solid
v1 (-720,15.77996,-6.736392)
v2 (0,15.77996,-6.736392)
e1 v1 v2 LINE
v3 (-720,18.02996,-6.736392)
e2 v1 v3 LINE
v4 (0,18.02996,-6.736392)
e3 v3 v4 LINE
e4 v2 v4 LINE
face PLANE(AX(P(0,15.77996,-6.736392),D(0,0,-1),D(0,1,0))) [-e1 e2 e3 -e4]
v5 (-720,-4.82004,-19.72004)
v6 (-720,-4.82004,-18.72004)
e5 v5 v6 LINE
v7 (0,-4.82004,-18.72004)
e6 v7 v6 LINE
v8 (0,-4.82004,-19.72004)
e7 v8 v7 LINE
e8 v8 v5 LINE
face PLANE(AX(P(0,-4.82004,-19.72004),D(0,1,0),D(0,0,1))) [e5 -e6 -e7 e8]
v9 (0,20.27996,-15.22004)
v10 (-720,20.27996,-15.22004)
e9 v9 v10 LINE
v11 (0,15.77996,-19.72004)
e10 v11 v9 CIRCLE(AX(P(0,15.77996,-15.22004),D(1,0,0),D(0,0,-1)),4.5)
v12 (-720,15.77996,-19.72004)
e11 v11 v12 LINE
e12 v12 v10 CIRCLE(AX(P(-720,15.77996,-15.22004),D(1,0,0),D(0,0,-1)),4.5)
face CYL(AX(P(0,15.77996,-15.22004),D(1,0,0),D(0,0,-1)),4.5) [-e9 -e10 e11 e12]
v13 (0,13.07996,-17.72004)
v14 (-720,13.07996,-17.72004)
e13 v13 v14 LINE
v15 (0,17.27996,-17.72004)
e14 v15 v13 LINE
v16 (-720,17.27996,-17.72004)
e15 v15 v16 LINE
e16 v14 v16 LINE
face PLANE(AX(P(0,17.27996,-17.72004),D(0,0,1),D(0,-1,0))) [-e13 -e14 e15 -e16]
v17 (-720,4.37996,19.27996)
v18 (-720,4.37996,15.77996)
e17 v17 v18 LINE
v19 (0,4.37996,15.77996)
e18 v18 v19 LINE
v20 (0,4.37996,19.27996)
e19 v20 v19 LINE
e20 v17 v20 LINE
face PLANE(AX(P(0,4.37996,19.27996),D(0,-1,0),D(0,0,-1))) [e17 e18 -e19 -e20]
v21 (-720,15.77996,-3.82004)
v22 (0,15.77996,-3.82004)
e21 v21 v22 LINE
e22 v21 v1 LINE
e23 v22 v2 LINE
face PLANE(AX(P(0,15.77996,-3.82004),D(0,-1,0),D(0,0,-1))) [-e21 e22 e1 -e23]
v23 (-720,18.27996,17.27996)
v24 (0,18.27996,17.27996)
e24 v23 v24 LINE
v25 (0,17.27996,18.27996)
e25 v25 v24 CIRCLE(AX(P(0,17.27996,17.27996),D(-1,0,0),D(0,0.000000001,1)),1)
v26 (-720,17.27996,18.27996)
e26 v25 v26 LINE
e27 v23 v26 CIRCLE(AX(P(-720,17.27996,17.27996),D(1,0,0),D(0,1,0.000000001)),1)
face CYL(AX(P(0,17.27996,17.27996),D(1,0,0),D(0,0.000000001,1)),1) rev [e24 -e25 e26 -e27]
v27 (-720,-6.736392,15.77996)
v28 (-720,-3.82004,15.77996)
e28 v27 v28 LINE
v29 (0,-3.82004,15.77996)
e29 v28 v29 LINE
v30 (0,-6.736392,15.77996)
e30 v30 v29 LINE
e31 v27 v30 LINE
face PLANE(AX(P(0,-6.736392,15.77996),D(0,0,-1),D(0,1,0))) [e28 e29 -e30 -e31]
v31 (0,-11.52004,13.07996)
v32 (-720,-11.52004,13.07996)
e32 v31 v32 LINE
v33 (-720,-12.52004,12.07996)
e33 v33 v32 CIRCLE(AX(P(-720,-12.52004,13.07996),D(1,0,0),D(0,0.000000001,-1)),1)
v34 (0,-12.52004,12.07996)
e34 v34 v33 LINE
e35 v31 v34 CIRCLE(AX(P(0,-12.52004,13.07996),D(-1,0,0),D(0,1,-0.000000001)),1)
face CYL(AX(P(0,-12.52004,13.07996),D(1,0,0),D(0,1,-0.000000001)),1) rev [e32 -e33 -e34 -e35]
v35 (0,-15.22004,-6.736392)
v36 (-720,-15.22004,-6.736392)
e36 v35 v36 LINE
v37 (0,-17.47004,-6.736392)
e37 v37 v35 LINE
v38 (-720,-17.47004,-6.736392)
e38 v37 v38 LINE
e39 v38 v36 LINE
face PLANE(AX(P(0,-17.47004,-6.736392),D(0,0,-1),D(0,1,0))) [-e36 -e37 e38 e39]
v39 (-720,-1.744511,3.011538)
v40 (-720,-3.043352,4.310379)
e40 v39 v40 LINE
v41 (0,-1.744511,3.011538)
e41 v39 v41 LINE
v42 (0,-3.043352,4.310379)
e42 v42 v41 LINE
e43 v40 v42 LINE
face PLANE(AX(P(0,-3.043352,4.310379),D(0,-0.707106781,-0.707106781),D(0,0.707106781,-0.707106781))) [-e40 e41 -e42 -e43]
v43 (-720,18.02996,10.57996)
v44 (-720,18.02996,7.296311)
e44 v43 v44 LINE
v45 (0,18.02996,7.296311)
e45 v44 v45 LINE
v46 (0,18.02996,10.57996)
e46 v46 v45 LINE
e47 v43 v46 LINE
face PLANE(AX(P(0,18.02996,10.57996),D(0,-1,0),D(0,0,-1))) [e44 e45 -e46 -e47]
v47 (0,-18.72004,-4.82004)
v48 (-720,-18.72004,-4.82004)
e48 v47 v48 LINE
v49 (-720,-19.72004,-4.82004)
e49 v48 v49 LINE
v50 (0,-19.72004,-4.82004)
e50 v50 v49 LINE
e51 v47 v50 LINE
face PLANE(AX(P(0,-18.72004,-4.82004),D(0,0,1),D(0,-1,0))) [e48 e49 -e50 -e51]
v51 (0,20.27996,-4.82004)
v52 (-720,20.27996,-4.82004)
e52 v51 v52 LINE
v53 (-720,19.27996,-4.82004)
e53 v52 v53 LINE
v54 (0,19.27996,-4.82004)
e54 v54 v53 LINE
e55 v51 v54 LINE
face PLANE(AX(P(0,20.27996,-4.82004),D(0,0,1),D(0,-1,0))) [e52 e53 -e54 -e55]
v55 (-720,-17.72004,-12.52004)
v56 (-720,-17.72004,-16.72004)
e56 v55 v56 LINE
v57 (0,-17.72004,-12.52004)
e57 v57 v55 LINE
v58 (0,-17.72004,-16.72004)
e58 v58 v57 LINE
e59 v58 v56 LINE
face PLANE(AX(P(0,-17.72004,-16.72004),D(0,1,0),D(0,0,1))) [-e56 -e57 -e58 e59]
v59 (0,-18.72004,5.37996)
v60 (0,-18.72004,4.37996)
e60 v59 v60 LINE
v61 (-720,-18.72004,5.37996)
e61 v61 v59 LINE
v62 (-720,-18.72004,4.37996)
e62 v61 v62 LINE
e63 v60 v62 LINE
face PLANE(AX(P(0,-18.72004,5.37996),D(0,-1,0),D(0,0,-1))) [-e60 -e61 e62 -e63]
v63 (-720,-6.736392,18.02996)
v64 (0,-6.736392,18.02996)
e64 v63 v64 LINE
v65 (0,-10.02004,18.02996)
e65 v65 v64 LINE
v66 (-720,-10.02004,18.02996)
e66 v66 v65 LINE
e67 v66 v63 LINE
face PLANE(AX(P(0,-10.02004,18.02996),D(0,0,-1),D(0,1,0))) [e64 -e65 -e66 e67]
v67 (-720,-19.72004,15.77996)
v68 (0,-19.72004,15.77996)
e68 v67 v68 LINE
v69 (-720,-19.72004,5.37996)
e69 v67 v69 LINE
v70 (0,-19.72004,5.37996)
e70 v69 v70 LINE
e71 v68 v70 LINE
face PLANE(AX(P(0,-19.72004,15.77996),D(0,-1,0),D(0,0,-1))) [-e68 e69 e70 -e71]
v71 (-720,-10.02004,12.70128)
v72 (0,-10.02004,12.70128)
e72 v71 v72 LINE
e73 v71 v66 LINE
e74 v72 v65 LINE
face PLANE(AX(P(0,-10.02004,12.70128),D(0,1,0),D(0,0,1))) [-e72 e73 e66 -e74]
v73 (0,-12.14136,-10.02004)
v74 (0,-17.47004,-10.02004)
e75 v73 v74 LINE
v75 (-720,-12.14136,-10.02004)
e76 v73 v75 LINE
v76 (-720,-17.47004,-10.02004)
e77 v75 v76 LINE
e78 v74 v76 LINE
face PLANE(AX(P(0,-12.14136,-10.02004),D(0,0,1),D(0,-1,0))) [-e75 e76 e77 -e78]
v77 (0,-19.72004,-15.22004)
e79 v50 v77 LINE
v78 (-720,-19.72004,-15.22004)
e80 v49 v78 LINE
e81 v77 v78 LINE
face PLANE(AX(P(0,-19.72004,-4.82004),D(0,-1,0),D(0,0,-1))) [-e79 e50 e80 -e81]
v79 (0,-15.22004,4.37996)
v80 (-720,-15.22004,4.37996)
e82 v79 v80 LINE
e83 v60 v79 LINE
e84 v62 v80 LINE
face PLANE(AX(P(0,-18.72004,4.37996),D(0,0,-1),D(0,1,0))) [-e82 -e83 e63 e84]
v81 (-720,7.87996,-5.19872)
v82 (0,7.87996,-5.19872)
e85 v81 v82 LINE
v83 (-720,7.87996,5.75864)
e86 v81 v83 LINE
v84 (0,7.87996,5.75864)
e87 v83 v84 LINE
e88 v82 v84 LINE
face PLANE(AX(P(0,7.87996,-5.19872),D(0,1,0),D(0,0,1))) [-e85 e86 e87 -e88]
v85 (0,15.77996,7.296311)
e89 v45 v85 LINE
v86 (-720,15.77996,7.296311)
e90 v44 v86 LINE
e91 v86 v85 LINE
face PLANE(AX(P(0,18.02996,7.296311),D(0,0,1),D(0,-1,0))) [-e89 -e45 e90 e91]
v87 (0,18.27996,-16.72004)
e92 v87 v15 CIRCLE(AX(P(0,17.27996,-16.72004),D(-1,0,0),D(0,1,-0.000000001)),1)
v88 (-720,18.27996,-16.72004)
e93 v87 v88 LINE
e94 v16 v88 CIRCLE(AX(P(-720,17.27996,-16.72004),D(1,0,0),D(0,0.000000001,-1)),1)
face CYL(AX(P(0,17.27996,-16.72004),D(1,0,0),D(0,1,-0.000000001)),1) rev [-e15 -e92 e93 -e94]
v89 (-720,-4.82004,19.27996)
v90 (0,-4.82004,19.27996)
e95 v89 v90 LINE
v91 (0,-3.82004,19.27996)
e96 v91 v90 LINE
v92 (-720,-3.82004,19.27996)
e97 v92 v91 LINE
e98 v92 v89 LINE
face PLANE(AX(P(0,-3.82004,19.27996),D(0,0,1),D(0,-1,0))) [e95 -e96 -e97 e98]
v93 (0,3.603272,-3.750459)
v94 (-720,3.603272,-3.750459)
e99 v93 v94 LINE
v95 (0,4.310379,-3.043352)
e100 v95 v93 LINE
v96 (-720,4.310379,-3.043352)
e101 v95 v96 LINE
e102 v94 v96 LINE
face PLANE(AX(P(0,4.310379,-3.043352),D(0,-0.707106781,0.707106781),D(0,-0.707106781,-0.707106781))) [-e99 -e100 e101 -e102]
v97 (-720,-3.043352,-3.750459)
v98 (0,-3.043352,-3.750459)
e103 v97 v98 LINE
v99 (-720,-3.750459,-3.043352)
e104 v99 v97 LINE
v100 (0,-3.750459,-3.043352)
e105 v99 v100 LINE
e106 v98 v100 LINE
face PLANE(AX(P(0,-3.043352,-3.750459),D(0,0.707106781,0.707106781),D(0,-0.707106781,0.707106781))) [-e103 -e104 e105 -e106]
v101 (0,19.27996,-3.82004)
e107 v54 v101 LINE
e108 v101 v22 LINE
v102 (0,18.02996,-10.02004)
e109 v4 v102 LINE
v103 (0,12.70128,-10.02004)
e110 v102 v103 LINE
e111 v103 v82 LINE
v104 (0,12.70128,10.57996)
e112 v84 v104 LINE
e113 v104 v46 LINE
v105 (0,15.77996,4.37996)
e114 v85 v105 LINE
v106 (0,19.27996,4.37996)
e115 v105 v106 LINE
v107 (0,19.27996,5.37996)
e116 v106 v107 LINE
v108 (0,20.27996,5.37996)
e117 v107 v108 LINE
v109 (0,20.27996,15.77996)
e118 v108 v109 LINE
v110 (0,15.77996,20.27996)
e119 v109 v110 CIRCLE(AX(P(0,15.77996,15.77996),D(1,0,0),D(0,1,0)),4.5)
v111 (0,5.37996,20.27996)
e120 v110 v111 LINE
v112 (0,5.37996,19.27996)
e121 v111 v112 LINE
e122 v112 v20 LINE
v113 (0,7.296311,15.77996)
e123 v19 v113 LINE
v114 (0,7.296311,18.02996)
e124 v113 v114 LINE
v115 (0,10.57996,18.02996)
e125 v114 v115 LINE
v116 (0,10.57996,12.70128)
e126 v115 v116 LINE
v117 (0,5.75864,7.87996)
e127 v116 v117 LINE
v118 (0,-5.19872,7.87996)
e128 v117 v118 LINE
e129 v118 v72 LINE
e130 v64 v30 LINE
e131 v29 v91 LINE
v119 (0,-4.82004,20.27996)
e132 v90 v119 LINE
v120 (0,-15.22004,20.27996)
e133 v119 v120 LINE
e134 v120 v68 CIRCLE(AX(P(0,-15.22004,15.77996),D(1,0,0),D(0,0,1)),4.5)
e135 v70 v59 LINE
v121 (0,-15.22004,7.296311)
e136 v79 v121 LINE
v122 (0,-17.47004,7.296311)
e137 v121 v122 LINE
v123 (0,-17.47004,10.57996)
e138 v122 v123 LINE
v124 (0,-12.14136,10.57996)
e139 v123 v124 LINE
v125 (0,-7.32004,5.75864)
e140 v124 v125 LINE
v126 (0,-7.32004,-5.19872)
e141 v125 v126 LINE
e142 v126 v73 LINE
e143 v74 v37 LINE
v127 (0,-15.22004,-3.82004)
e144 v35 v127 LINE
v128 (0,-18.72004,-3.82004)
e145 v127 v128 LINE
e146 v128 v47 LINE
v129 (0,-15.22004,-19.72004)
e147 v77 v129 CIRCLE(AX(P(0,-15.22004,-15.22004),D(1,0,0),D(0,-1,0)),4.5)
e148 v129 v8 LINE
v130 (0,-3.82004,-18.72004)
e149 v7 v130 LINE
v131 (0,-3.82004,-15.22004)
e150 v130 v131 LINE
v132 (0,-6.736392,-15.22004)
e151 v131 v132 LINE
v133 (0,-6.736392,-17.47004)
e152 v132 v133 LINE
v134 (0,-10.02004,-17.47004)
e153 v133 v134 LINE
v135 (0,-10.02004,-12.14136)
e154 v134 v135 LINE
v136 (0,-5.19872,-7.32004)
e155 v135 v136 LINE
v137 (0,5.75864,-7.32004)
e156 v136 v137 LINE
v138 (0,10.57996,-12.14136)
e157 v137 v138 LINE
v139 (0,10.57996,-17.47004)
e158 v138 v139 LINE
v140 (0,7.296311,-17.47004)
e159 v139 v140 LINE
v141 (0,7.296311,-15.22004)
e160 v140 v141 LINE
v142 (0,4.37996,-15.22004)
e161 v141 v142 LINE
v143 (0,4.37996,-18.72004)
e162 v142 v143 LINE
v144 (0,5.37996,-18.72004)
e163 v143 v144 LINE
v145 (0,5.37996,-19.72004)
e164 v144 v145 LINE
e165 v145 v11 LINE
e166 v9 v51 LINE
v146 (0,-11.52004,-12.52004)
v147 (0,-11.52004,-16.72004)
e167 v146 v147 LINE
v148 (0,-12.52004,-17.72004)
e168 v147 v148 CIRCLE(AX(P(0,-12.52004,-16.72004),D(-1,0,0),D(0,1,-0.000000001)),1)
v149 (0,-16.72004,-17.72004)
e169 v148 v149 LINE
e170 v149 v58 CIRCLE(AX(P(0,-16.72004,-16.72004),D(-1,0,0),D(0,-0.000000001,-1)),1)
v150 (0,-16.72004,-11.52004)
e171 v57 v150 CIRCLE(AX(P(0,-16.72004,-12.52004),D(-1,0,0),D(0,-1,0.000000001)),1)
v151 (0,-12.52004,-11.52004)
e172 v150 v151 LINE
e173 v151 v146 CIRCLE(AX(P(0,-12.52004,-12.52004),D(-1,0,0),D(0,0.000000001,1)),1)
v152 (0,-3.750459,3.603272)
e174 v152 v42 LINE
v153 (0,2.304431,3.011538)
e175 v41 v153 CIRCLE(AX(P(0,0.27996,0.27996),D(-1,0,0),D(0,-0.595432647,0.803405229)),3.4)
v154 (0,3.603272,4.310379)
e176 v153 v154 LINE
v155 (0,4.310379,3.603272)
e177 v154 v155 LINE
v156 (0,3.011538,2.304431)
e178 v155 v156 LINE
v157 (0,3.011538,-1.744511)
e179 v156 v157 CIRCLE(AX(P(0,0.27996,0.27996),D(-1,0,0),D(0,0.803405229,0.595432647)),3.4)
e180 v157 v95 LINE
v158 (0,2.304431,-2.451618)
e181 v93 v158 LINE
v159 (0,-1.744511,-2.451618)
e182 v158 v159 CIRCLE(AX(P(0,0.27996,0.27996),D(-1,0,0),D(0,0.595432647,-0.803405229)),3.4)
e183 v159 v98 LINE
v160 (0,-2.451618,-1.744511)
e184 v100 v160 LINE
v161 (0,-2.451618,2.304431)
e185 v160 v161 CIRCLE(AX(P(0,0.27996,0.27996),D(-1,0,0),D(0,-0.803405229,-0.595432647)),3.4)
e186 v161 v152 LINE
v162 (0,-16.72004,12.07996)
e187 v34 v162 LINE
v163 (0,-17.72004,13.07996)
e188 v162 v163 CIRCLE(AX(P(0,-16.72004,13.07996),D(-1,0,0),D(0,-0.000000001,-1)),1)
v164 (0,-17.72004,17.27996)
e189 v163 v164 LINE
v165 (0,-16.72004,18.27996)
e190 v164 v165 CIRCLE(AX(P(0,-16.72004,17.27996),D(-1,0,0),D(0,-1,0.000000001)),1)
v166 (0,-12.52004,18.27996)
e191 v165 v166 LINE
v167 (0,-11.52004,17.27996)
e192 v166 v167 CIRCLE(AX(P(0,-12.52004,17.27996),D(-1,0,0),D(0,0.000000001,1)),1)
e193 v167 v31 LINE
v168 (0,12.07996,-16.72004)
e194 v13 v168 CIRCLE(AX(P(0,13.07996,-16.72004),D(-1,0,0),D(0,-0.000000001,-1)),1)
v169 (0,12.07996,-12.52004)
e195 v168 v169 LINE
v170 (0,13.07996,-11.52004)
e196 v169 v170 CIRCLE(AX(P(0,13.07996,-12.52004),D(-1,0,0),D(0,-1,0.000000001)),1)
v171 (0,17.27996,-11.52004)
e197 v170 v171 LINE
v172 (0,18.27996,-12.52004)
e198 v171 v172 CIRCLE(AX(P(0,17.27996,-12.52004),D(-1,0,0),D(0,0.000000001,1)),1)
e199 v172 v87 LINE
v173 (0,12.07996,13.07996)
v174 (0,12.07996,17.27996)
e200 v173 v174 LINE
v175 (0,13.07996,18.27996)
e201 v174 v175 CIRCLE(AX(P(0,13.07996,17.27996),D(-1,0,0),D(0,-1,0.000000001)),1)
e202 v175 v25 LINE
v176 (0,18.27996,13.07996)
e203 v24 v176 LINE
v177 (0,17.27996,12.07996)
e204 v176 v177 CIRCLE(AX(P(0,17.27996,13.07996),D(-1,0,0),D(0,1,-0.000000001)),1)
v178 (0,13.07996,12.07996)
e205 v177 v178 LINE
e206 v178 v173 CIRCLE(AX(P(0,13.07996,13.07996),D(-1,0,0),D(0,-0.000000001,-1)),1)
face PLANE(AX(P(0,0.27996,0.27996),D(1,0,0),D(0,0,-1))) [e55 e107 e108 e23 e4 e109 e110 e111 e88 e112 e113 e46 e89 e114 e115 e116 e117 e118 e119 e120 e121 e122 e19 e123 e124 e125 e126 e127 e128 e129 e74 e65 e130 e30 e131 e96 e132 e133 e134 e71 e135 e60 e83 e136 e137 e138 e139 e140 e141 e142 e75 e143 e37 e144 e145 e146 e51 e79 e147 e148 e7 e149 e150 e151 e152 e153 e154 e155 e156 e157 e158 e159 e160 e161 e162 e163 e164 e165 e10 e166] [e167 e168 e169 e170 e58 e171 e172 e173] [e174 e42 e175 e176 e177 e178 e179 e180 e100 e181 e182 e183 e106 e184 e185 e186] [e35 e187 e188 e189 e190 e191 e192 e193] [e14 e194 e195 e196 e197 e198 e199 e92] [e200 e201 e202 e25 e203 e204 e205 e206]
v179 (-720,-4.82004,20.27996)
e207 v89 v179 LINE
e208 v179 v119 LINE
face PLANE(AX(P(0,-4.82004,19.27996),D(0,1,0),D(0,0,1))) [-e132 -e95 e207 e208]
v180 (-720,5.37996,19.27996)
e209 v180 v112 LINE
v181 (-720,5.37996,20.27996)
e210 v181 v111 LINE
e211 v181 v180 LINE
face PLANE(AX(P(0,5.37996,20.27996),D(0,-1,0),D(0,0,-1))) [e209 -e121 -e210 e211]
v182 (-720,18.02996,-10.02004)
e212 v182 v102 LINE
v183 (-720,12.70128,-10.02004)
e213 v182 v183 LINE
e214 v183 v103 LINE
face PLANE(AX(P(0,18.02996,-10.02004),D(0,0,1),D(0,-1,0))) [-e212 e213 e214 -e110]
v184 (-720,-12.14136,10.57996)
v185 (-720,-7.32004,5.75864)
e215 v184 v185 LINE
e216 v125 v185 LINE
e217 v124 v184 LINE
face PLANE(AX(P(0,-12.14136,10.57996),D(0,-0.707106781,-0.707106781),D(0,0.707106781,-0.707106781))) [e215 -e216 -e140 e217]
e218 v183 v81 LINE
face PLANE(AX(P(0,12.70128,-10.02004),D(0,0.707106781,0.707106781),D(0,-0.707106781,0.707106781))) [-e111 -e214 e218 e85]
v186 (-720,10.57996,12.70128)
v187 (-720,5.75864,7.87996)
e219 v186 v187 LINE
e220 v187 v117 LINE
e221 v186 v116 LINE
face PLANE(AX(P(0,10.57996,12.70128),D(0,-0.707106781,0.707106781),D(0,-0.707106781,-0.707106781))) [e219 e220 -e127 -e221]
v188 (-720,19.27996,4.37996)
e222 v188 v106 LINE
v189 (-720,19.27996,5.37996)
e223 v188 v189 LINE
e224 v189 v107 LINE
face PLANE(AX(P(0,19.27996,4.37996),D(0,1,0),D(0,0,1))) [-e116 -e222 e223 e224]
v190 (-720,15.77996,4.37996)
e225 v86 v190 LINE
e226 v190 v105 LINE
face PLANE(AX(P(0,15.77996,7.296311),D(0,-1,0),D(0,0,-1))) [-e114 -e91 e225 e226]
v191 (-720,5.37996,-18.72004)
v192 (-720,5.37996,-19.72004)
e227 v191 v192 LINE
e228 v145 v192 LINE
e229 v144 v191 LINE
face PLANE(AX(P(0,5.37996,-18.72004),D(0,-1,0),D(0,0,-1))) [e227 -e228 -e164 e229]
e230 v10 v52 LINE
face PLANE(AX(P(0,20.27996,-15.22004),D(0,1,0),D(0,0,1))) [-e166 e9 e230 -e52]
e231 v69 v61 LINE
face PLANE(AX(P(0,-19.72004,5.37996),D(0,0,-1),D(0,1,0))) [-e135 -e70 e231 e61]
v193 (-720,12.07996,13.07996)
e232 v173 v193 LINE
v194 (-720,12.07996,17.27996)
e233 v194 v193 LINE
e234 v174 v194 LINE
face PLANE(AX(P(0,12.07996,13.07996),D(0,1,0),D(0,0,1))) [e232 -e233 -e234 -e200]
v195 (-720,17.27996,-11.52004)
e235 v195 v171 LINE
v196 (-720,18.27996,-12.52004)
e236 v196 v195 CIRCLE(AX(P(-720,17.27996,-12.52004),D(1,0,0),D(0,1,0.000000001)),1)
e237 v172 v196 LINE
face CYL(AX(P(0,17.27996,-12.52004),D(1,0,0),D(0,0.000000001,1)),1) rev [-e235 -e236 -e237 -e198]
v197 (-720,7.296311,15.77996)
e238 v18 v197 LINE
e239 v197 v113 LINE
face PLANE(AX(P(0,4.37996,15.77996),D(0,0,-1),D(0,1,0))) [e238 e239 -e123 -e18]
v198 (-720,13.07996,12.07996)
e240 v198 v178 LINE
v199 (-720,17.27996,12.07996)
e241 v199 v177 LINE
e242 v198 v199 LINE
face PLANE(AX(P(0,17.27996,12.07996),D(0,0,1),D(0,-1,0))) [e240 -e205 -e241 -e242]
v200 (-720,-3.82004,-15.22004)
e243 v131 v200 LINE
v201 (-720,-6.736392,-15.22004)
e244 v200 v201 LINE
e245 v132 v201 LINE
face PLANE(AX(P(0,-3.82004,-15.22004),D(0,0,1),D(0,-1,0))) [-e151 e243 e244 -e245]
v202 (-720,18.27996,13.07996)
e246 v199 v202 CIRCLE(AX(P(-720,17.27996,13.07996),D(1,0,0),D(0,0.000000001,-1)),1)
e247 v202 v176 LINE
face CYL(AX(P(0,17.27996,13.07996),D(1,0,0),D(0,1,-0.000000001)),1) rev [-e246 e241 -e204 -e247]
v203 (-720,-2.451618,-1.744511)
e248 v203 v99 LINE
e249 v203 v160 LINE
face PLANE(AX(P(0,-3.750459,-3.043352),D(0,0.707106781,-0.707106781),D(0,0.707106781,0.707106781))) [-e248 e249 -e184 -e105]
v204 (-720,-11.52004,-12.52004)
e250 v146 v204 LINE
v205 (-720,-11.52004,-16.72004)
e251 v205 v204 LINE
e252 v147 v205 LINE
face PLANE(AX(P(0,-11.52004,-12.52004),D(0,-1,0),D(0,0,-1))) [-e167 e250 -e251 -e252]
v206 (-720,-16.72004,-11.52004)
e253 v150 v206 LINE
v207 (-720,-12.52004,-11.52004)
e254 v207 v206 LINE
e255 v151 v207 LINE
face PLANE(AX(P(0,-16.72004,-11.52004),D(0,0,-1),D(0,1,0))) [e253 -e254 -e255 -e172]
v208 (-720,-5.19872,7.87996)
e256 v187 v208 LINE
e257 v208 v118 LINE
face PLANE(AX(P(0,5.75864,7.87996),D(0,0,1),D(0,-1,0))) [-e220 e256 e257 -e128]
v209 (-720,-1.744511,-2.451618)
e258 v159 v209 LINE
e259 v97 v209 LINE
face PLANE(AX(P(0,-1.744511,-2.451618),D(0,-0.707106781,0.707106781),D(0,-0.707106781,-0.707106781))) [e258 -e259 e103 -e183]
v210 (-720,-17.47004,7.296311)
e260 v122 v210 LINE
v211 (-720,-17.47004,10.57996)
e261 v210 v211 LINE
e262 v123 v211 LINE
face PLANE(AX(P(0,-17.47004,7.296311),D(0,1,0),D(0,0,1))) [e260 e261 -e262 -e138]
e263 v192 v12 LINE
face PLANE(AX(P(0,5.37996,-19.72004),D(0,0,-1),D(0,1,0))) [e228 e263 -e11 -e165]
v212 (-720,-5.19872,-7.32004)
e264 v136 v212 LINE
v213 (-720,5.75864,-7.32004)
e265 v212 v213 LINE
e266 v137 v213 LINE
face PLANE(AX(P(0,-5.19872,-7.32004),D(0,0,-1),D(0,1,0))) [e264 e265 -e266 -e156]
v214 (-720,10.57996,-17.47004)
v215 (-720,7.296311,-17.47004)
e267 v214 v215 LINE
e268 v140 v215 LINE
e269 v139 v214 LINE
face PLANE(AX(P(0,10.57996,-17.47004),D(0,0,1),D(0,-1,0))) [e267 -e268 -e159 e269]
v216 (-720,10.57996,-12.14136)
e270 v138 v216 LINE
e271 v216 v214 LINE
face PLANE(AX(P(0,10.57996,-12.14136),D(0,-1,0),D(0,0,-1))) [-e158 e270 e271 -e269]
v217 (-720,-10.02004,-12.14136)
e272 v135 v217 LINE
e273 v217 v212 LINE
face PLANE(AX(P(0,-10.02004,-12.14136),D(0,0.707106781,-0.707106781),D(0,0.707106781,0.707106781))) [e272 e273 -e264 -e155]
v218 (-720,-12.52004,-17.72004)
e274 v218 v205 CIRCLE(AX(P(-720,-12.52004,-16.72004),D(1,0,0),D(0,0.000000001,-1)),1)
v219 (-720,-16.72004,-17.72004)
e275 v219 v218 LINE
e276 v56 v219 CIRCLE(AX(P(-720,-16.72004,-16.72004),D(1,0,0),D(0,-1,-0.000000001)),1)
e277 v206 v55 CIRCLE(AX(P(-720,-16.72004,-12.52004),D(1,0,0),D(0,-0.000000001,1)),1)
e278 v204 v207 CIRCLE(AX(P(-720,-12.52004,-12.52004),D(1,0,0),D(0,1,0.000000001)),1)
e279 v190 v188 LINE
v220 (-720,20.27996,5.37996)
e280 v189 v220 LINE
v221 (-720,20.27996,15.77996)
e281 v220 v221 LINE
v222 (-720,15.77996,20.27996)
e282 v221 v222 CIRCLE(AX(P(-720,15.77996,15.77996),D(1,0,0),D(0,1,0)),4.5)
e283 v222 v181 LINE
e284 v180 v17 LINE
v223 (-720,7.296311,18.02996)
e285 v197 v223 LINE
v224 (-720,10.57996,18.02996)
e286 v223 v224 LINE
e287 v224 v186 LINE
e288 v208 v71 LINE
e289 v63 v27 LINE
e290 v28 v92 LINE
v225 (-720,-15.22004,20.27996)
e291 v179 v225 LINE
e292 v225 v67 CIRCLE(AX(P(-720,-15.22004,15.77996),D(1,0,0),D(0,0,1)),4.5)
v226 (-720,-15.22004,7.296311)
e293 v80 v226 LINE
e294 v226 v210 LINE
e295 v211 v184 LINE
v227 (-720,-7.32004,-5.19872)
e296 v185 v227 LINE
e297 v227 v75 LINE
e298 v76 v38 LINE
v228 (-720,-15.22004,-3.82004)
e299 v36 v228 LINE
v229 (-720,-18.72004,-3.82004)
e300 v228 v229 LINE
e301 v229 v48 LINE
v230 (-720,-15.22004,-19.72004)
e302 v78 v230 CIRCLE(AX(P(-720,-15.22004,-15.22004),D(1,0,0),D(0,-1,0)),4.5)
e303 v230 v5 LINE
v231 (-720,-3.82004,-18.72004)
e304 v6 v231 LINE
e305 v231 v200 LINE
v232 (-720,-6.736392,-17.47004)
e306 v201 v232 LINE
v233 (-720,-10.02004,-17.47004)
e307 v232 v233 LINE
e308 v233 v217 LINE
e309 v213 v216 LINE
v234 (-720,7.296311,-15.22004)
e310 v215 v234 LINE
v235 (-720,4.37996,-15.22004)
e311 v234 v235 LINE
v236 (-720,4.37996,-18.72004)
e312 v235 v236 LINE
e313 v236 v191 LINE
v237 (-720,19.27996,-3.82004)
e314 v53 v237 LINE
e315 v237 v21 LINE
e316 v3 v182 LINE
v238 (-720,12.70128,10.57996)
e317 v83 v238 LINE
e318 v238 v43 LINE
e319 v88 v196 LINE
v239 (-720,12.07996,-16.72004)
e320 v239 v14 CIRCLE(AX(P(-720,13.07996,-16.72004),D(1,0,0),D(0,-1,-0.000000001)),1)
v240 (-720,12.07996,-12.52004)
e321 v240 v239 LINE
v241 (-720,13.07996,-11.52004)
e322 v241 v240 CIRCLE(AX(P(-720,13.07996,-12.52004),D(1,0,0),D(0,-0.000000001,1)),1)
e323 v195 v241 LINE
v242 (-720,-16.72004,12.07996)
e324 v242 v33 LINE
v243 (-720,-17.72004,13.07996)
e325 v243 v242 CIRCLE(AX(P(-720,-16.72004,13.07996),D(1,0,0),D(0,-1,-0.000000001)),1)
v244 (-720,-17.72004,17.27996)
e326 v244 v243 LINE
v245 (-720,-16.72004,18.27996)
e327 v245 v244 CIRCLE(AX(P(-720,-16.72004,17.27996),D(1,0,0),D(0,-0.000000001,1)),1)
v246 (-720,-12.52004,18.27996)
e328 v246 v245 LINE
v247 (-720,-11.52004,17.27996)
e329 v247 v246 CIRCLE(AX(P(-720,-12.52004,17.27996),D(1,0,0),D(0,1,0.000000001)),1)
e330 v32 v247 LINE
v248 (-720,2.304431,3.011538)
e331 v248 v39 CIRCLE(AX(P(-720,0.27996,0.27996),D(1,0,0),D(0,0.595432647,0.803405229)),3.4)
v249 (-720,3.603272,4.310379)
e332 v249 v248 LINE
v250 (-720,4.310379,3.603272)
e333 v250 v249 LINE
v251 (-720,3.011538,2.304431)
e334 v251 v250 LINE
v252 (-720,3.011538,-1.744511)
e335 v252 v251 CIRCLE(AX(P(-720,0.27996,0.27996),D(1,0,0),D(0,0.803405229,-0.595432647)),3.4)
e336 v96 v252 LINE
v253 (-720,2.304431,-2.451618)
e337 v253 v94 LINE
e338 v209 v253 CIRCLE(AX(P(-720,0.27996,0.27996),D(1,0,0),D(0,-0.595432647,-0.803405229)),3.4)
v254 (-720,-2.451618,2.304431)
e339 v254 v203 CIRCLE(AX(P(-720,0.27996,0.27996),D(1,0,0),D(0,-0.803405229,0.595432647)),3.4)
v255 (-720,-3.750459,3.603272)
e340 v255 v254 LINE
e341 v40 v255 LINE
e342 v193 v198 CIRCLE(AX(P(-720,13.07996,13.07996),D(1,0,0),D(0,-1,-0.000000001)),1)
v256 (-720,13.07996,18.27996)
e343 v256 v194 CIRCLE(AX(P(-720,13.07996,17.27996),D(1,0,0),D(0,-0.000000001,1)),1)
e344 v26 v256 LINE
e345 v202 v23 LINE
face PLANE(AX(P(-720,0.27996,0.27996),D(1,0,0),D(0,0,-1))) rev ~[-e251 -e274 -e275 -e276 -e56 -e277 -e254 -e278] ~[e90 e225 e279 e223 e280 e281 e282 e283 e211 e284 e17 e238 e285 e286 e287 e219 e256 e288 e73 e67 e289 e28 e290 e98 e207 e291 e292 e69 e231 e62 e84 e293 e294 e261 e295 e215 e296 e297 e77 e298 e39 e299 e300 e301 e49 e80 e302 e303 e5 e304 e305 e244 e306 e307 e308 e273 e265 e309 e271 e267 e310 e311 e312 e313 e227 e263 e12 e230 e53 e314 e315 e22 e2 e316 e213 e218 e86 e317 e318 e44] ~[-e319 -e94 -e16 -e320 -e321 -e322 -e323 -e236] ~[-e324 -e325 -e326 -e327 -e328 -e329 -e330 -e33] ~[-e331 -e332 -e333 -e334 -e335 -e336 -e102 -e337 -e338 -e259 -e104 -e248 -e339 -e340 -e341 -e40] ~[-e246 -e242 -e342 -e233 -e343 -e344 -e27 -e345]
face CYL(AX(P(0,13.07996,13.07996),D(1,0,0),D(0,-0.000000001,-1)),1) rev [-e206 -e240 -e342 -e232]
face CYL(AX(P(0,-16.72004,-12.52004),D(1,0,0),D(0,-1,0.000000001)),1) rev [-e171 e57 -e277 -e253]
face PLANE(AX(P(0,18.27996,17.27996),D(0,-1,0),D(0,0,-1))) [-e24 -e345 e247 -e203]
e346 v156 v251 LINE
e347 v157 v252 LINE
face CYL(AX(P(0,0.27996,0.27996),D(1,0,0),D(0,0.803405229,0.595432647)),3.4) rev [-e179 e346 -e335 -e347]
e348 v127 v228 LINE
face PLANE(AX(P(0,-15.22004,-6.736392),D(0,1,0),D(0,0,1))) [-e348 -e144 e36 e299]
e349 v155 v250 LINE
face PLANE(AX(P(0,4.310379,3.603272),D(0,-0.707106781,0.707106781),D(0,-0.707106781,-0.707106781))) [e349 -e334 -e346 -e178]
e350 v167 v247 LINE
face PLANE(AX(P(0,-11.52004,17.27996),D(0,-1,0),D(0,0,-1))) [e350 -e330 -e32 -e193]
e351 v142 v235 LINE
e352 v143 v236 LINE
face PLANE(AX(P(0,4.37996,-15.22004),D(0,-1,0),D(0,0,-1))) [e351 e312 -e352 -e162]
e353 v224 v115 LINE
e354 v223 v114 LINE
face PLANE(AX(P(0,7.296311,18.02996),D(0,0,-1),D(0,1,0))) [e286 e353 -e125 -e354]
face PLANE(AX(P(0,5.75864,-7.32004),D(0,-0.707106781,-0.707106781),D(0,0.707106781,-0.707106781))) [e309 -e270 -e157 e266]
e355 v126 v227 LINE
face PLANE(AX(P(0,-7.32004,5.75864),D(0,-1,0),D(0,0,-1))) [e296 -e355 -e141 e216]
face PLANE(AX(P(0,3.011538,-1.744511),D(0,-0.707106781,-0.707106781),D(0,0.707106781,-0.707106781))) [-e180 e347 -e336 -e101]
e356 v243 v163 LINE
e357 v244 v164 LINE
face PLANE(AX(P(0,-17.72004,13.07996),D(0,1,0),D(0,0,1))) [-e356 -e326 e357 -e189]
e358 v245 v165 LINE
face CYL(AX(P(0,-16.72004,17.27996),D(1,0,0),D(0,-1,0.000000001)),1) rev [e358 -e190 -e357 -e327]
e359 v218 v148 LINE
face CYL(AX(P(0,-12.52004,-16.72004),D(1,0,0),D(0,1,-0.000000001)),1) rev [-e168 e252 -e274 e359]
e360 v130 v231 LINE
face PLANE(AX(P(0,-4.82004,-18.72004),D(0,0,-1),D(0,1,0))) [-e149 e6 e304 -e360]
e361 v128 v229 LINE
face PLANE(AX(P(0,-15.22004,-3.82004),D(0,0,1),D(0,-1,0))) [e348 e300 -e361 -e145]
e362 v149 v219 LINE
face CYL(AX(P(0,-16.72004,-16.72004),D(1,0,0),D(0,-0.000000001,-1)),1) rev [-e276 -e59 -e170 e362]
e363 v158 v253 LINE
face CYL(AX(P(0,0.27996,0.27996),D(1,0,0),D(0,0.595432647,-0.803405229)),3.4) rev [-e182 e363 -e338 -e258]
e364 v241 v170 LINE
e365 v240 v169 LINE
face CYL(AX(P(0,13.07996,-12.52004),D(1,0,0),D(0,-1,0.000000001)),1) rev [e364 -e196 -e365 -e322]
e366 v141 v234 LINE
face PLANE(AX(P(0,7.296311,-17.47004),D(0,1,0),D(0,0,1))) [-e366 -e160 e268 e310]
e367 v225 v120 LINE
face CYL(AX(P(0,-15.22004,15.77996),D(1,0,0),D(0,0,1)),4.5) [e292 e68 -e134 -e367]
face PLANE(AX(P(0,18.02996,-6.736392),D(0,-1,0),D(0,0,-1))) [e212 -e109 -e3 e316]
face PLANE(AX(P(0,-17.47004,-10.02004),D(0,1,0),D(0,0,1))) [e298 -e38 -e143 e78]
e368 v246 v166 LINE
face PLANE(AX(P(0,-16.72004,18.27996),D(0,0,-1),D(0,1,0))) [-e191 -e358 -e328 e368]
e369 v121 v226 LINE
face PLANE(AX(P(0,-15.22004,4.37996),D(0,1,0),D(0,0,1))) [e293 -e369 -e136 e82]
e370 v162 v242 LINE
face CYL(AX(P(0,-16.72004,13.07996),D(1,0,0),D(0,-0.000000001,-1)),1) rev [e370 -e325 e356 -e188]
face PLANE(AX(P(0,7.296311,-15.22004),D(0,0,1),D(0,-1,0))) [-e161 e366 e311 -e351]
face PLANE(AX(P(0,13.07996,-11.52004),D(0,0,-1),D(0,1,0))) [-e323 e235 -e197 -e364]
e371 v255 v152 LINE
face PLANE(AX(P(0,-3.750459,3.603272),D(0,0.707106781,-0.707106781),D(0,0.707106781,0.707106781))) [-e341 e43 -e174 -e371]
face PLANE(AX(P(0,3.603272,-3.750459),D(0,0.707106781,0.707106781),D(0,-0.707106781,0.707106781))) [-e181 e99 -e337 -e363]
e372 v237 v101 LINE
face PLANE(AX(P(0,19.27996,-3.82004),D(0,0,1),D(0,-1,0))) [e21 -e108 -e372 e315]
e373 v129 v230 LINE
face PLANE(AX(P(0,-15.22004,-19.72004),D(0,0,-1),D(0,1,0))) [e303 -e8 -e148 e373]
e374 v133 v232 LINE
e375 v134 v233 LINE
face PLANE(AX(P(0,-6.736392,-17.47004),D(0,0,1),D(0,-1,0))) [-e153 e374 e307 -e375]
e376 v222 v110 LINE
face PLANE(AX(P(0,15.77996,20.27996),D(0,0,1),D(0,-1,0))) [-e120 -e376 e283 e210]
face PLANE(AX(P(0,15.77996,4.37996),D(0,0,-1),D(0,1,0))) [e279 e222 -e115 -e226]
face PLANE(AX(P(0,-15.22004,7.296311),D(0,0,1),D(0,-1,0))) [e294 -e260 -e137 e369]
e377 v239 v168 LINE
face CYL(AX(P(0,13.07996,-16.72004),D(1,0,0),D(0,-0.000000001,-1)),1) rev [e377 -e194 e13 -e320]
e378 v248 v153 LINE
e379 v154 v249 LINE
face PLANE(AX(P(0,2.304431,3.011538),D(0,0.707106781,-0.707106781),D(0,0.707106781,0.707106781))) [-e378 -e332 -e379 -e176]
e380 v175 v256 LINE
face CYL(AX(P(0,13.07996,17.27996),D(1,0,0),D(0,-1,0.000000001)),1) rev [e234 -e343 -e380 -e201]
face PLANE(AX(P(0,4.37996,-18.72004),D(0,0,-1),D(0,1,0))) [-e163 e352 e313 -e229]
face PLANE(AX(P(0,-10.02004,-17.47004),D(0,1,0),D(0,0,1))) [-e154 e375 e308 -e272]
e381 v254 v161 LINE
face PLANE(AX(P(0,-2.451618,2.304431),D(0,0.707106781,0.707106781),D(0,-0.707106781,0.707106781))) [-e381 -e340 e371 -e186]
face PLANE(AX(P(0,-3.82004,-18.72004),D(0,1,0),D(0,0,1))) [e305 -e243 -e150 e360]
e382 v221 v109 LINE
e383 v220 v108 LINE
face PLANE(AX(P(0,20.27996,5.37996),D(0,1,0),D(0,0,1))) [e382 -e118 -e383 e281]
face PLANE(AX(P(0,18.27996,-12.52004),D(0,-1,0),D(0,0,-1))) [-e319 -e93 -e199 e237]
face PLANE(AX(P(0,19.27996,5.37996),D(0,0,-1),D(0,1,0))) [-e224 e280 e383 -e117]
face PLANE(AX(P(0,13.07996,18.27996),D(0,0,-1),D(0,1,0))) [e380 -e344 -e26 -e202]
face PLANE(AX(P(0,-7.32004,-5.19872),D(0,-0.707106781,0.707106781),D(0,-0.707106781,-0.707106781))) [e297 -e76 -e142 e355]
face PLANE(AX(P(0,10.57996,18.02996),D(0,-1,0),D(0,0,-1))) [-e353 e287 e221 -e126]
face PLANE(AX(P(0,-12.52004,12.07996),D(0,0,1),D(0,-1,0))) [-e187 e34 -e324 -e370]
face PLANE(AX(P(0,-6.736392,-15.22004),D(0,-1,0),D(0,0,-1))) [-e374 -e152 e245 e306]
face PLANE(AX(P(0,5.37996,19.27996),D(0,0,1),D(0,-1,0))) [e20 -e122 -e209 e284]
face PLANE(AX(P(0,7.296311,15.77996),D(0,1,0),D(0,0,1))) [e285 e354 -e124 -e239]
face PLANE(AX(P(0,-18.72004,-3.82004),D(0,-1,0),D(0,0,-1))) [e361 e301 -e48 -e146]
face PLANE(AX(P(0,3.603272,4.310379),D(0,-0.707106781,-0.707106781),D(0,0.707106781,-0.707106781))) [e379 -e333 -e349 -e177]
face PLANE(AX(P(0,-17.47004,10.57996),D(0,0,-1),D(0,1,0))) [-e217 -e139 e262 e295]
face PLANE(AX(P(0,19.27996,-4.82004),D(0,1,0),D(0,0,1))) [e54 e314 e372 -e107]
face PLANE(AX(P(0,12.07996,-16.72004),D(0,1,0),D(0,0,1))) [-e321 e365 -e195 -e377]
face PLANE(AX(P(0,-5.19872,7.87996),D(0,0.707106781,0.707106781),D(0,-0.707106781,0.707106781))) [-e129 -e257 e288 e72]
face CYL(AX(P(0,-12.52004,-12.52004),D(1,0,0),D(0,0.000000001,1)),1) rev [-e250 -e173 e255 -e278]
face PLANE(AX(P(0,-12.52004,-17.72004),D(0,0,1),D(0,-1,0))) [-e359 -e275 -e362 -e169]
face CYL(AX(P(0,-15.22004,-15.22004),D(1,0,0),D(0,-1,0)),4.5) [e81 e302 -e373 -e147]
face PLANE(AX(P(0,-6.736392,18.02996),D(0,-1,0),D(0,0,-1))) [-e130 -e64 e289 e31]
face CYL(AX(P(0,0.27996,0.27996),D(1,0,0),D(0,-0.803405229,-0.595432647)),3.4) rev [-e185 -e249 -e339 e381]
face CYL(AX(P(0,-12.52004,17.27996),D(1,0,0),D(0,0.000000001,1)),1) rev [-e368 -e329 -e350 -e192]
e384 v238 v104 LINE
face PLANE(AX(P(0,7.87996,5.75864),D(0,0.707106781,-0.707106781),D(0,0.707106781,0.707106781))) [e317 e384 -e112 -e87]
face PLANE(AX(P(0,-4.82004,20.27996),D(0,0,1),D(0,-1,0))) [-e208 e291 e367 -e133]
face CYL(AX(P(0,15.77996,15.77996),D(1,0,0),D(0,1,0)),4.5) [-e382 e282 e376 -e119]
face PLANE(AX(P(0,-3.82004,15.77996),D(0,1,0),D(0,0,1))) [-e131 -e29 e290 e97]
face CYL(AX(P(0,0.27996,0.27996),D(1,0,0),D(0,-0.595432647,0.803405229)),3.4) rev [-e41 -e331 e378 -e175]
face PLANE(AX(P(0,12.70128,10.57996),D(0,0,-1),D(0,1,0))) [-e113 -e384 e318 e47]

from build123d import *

# Parameters (mm, degrees)
EXTRUDE_1_DEPTH = 50
EXTRUDE_2_DEPTH = 720


with BuildPart() as part:
    # 草图1 → 凸台-拉伸1 (new body)
    with BuildSketch(Plane(origin=(0, 0, 0), x_dir=(0, 0, -1), z_dir=(1, 0, 0))):
        with BuildLine():
            Line((4.82004008, 19.27995992), (3.82004008, 19.27995992))
            Line((3.82004008, 19.27995992), (3.82004008, 15.77995992))
            Line((3.82004008, 15.77995992), (6.73639159, 15.77995992))
            Line((6.73639159, 15.77995992), (6.73639159, 18.02995992))
            Line((6.73639159, 18.02995992), (10.02004008, 18.02995992))
            Line((10.02004008, 18.02995992), (10.02004008, 12.70128026))
            Line((10.02004008, 12.70128026), (5.19871974, 7.87995992))
            Line((5.19871974, 7.87995992), (-5.75863958, 7.87995992))
            Line((-5.75863958, 7.87995992), (-10.57995992, 12.70128026))
            Line((-10.57995992, 12.70128026), (-10.57995992, 18.02995992))
            Line((-10.57995992, 18.02995992), (-7.29631143, 18.02995992))
            Line((-7.29631143, 18.02995992), (-7.29631143, 15.77995992))
            Line((-7.29631143, 15.77995992), (-4.37995992, 15.77995992))
            Line((-4.37995992, 15.77995992), (-4.37995992, 19.27995992))
            Line((-4.37995992, 19.27995992), (-5.37995992, 19.27995992))
            Line((-5.37995992, 19.27995992), (-5.37995992, 20.27995992))
            Line((-5.37995992, 20.27995992), (-15.77995992, 20.27995992))
            ThreePointArc((-15.77995992, 20.27995992), (-18.961940435, 18.961940435), (-20.27995992, 15.77995992))
            Line((-20.27995992, 15.77995992), (-20.27995992, 5.37995992))
            Line((-20.27995992, 5.37995992), (-19.27995992, 5.37995992))
            Line((-19.27995992, 5.37995992), (-19.27995992, 4.37995992))
            Line((-19.27995992, 4.37995992), (-15.77995992, 4.37995992))
            Line((-15.77995992, 4.37995992), (-15.77995992, 7.29631143))
            Line((-15.77995992, 7.29631143), (-18.02995992, 7.29631143))
            Line((-18.02995992, 7.29631143), (-18.02995992, 10.57995992))
            Line((-18.02995992, 10.57995992), (-12.70128026, 10.57995992))
            Line((-12.70128026, 10.57995992), (-7.87995992, 5.75863958))
            Line((-7.87995992, 5.75863958), (-7.87995992, -5.19871974))
            Line((-7.87995992, -5.19871974), (-12.70128026, -10.02004008))
            Line((-12.70128026, -10.02004008), (-18.02995992, -10.02004008))
            Line((-18.02995992, -10.02004008), (-18.02995992, -6.73639159))
            Line((-18.02995992, -6.73639159), (-15.77995992, -6.73639159))
            Line((-15.77995992, -6.73639159), (-15.77995992, -3.82004008))
            Line((-15.77995992, -3.82004008), (-19.27995992, -3.82004008))
            Line((-19.27995992, -3.82004008), (-19.27995992, -4.82004008))
            Line((-19.27995992, -4.82004008), (-20.27995992, -4.82004008))
            Line((-20.27995992, -4.82004008), (-20.27995992, -15.22004008))
            ThreePointArc((-20.27995992, -15.22004008), (-18.961940435, -18.402020595), (-15.77995992, -19.72004008))
            Line((-15.77995992, -19.72004008), (-5.37995992, -19.72004008))
            Line((-5.37995992, -19.72004008), (-5.37995992, -18.72004008))
            Line((-5.37995992, -18.72004008), (-4.37995992, -18.72004008))
            Line((-4.37995992, -18.72004008), (-4.37995992, -15.22004008))
            Line((-4.37995992, -15.22004008), (-7.29631143, -15.22004008))
            Line((-7.29631143, -15.22004008), (-7.29631143, -17.47004008))
            Line((-7.29631143, -17.47004008), (-10.57995992, -17.47004008))
            Line((-10.57995992, -17.47004008), (-10.57995992, -12.14136042))
            Line((-10.57995992, -12.14136042), (-5.75863958, -7.32004008))
            Line((-5.75863958, -7.32004008), (5.19871974, -7.32004008))
            Line((5.19871974, -7.32004008), (10.02004008, -12.14136042))
            Line((10.02004008, -12.14136042), (10.02004008, -17.47004008))
            Line((10.02004008, -17.47004008), (6.73639159, -17.47004008))
            Line((6.73639159, -17.47004008), (6.73639159, -15.22004008))
            Line((6.73639159, -15.22004008), (3.82004008, -15.22004008))
            Line((3.82004008, -15.22004008), (3.82004008, -18.72004008))
            Line((3.82004008, -18.72004008), (4.82004008, -18.72004008))
            Line((4.82004008, -18.72004008), (4.82004008, -19.72004008))
            Line((4.82004008, -19.72004008), (15.22004008, -19.72004008))
            ThreePointArc((15.22004008, -19.72004008), (18.402020595, -18.402020595), (19.72004008, -15.22004008))
            Line((19.72004008, -15.22004008), (19.72004008, -4.82004008))
            Line((19.72004008, -4.82004008), (18.72004008, -4.82004008))
            Line((18.72004008, -4.82004008), (18.72004008, -3.82004008))
            Line((18.72004008, -3.82004008), (15.22004008, -3.82004008))
            Line((15.22004008, -3.82004008), (15.22004008, -6.73639159))
            Line((15.22004008, -6.73639159), (17.47004008, -6.73639159))
            Line((17.47004008, -6.73639159), (17.47004008, -10.02004008))
            Line((17.47004008, -10.02004008), (12.14136042, -10.02004008))
            Line((12.14136042, -10.02004008), (7.32004008, -5.19871974))
            Line((7.32004008, -5.19871974), (7.32004008, 5.75863958))
            Line((7.32004008, 5.75863958), (12.14136042, 10.57995992))
            Line((12.14136042, 10.57995992), (17.47004008, 10.57995992))
            Line((17.47004008, 10.57995992), (17.47004008, 7.29631143))
            Line((17.47004008, 7.29631143), (15.22004008, 7.29631143))
            Line((15.22004008, 7.29631143), (15.22004008, 4.37995992))
            Line((15.22004008, 4.37995992), (18.72004008, 4.37995992))
            Line((18.72004008, 4.37995992), (18.72004008, 5.37995992))
            Line((18.72004008, 5.37995992), (19.72004008, 5.37995992))
            Line((19.72004008, 5.37995992), (19.72004008, 15.77995992))
            ThreePointArc((19.72004008, 15.77995992), (18.402020595, 18.961940435), (15.22004008, 20.27995992))
            Line((15.22004008, 20.27995992), (4.82004008, 20.27995992))
            Line((4.82004008, 20.27995992), (4.82004008, 19.27995992))
        make_face()
        with BuildLine():
            Line((-13.07995992, -17.72004008), (-17.27995992, -17.72004008))
            ThreePointArc((-17.27995992, -17.72004008), (-17.987066701, -17.427146861), (-18.27995992, -16.72004008))
            Line((-18.27995992, -16.72004008), (-18.27995992, -12.52004008))
            ThreePointArc((-18.27995992, -12.52004008), (-17.987066701, -11.812933299), (-17.27995992, -11.52004008))
            Line((-17.27995992, -11.52004008), (-13.07995992, -11.52004008))
            ThreePointArc((-13.07995992, -11.52004008), (-12.372853139, -11.812933299), (-12.07995992, -12.52004008))
            Line((-12.07995992, -12.52004008), (-12.07995992, -16.72004008))
            ThreePointArc((-12.07995992, -16.72004008), (-12.372853139, -17.427146861), (-13.07995992, -17.72004008))
        make_face(mode=Mode.SUBTRACT)
        with BuildLine():
            Line((-17.27995992, 18.27995992), (-13.07995992, 18.27995992))
            ThreePointArc((-13.07995992, 18.27995992), (-12.372853139, 17.987066701), (-12.07995992, 17.27995992))
            Line((-12.07995992, 17.27995992), (-12.07995992, 13.07995992))
            ThreePointArc((-12.07995992, 13.07995992), (-12.372853139, 12.372853139), (-13.07995992, 12.07995992))
            Line((-13.07995992, 12.07995992), (-17.27995992, 12.07995992))
            ThreePointArc((-17.27995992, 12.07995992), (-17.987066701, 12.372853139), (-18.27995992, 13.07995992))
            Line((-18.27995992, 13.07995992), (-18.27995992, 17.27995992))
            ThreePointArc((-18.27995992, 17.27995992), (-17.987066701, 17.987066701), (-17.27995992, 18.27995992))
        make_face(mode=Mode.SUBTRACT)
        with BuildLine():
            Line((16.72004008, 12.07995992), (12.52004008, 12.07995992))
            ThreePointArc((12.52004008, 12.07995992), (11.812933299, 12.372853139), (11.52004008, 13.07995992))
            Line((11.52004008, 13.07995992), (11.52004008, 17.27995992))
            ThreePointArc((11.52004008, 17.27995992), (11.812933299, 17.987066701), (12.52004008, 18.27995992))
            Line((12.52004008, 18.27995992), (16.72004008, 18.27995992))
            ThreePointArc((16.72004008, 18.27995992), (17.427146861, 17.987066701), (17.72004008, 17.27995992))
            Line((17.72004008, 17.27995992), (17.72004008, 13.07995992))
            ThreePointArc((17.72004008, 13.07995992), (17.427146861, 12.372853139), (16.72004008, 12.07995992))
        make_face(mode=Mode.SUBTRACT)
        with BuildLine():
            Line((3.75045895, -3.04335217), (3.04335217, -3.75045895))
            Line((3.04335217, -3.75045895), (1.74451108, -2.45161786))
            ThreePointArc((1.74451108, -2.45161786), (-0.27995992, -3.12004008), (-2.30443092, -2.45161786))
            Line((-2.30443092, -2.45161786), (-3.60327201, -3.75045895))
            Line((-3.60327201, -3.75045895), (-4.31037879, -3.04335217))
            Line((-4.31037879, -3.04335217), (-3.0115377, -1.74451108))
            ThreePointArc((-3.0115377, -1.74451108), (-3.67995992, 0.27995992), (-3.0115377, 2.30443092))
            Line((-3.0115377, 2.30443092), (-4.31037879, 3.60327201))
            Line((-4.31037879, 3.60327201), (-3.60327201, 4.31037879))
            Line((-3.60327201, 4.31037879), (-2.30443092, 3.0115377))
            ThreePointArc((-2.30443092, 3.0115377), (-0.27995992, 3.67995992), (1.74451108, 3.0115377))
            Line((1.74451108, 3.0115377), (3.04335217, 4.31037879))
            Line((3.04335217, 4.31037879), (3.75045895, 3.60327201))
            Line((3.75045895, 3.60327201), (2.45161786, 2.30443092))
            ThreePointArc((2.45161786, 2.30443092), (3.12004008, 0.27995992), (2.45161786, -1.74451108))
            Line((2.45161786, -1.74451108), (3.75045895, -3.04335217))
        make_face(mode=Mode.SUBTRACT)
        with BuildLine():
            Line((17.72004008, -12.52004008), (17.72004008, -16.72004008))
            ThreePointArc((17.72004008, -16.72004008), (17.427146861, -17.427146861), (16.72004008, -17.72004008))
            Line((16.72004008, -17.72004008), (12.52004008, -17.72004008))
            ThreePointArc((12.52004008, -17.72004008), (11.812933299, -17.427146861), (11.52004008, -16.72004008))
            Line((11.52004008, -16.72004008), (11.52004008, -12.52004008))
            ThreePointArc((11.52004008, -12.52004008), (11.812933299, -11.812933299), (12.52004008, -11.52004008))
            Line((12.52004008, -11.52004008), (16.72004008, -11.52004008))
            ThreePointArc((16.72004008, -11.52004008), (17.427146861, -11.812933299), (17.72004008, -12.52004008))
        make_face(mode=Mode.SUBTRACT)
    extrude(amount=-EXTRUDE_1_DEPTH)

    # 草图2 → 凸台-拉伸2 (add)
    with BuildSketch(Plane(origin=(0, 0, 0), x_dir=(0, 0, -1), z_dir=(1, 0, 0))):
        with BuildLine():
            Line((19.72004008, 5.37995992), (19.72004008, 15.77995992))
            ThreePointArc((19.72004008, 15.77995992), (18.402020595, 18.961940435), (15.22004008, 20.27995992))
            Line((15.22004008, 20.27995992), (4.82004008, 20.27995992))
            Line((4.82004008, 20.27995992), (4.82004008, 19.27995992))
            Line((4.82004008, 19.27995992), (3.82004008, 19.27995992))
            Line((3.82004008, 19.27995992), (3.82004008, 15.77995992))
            Line((3.82004008, 15.77995992), (6.73639159, 15.77995992))
            Line((6.73639159, 15.77995992), (6.73639159, 18.02995992))
            Line((6.73639159, 18.02995992), (10.02004008, 18.02995992))
            Line((10.02004008, 18.02995992), (10.02004008, 12.70128026))
            Line((10.02004008, 12.70128026), (5.19871974, 7.87995992))
            Line((5.19871974, 7.87995992), (-5.75863958, 7.87995992))
            Line((-5.75863958, 7.87995992), (-10.57995992, 12.70128026))
            Line((-10.57995992, 12.70128026), (-10.57995992, 18.02995992))
            Line((-10.57995992, 18.02995992), (-7.29631143, 18.02995992))
            Line((-7.29631143, 18.02995992), (-7.29631143, 15.77995992))
            Line((-7.29631143, 15.77995992), (-4.37995992, 15.77995992))
            Line((-4.37995992, 15.77995992), (-4.37995992, 19.27995992))
            Line((-4.37995992, 19.27995992), (-5.37995992, 19.27995992))
            Line((-5.37995992, 19.27995992), (-5.37995992, 20.27995992))
            Line((-5.37995992, 20.27995992), (-15.77995992, 20.27995992))
            ThreePointArc((-15.77995992, 20.27995992), (-18.961940435, 18.961940435), (-20.27995992, 15.77995992))
            Line((-20.27995992, 15.77995992), (-20.27995992, 5.37995992))
            Line((-20.27995992, 5.37995992), (-19.27995992, 5.37995992))
            Line((-19.27995992, 5.37995992), (-19.27995992, 4.37995992))
            Line((-19.27995992, 4.37995992), (-15.77995992, 4.37995992))
            Line((-15.77995992, 4.37995992), (-15.77995992, 7.29631143))
            Line((-15.77995992, 7.29631143), (-18.02995992, 7.29631143))
            Line((-18.02995992, 7.29631143), (-18.02995992, 10.57995992))
            Line((-18.02995992, 10.57995992), (-12.70128026, 10.57995992))
            Line((-12.70128026, 10.57995992), (-7.87995992, 5.75863958))
            Line((-7.87995992, 5.75863958), (-7.87995992, -5.19871974))
            Line((-7.87995992, -5.19871974), (-12.70128026, -10.02004008))
            Line((-12.70128026, -10.02004008), (-18.02995992, -10.02004008))
            Line((-18.02995992, -10.02004008), (-18.02995992, -6.73639159))
            Line((-18.02995992, -6.73639159), (-15.77995992, -6.73639159))
            Line((-15.77995992, -6.73639159), (-15.77995992, -3.82004008))
            Line((-15.77995992, -3.82004008), (-19.27995992, -3.82004008))
            Line((-19.27995992, -3.82004008), (-19.27995992, -4.82004008))
            Line((-19.27995992, -4.82004008), (-20.27995992, -4.82004008))
            Line((-20.27995992, -4.82004008), (-20.27995992, -15.22004008))
            ThreePointArc((-20.27995992, -15.22004008), (-18.961940435, -18.402020595), (-15.77995992, -19.72004008))
            Line((-15.77995992, -19.72004008), (-5.37995992, -19.72004008))
            Line((-5.37995992, -19.72004008), (-5.37995992, -18.72004008))
            Line((-5.37995992, -18.72004008), (-4.37995992, -18.72004008))
            Line((-4.37995992, -18.72004008), (-4.37995992, -15.22004008))
            Line((-4.37995992, -15.22004008), (-7.29631143, -15.22004008))
            Line((-7.29631143, -15.22004008), (-7.29631143, -17.47004008))
            Line((-7.29631143, -17.47004008), (-10.57995992, -17.47004008))
            Line((-10.57995992, -17.47004008), (-10.57995992, -12.14136042))
            Line((-10.57995992, -12.14136042), (-5.75863958, -7.32004008))
            Line((-5.75863958, -7.32004008), (5.19871974, -7.32004008))
            Line((5.19871974, -7.32004008), (10.02004008, -12.14136042))
            Line((10.02004008, -12.14136042), (10.02004008, -17.47004008))
            Line((10.02004008, -17.47004008), (6.73639159, -17.47004008))
            Line((6.73639159, -17.47004008), (6.73639159, -15.22004008))
            Line((6.73639159, -15.22004008), (3.82004008, -15.22004008))
            Line((3.82004008, -15.22004008), (3.82004008, -18.72004008))
            Line((3.82004008, -18.72004008), (4.82004008, -18.72004008))
            Line((4.82004008, -18.72004008), (4.82004008, -19.72004008))
            Line((4.82004008, -19.72004008), (15.22004008, -19.72004008))
            ThreePointArc((15.22004008, -19.72004008), (18.402020595, -18.402020595), (19.72004008, -15.22004008))
            Line((19.72004008, -15.22004008), (19.72004008, -4.82004008))
            Line((19.72004008, -4.82004008), (18.72004008, -4.82004008))
            Line((18.72004008, -4.82004008), (18.72004008, -3.82004008))
            Line((18.72004008, -3.82004008), (15.22004008, -3.82004008))
            Line((15.22004008, -3.82004008), (15.22004008, -6.73639159))
            Line((15.22004008, -6.73639159), (17.47004008, -6.73639159))
            Line((17.47004008, -6.73639159), (17.47004008, -10.02004008))
            Line((17.47004008, -10.02004008), (12.14136042, -10.02004008))
            Line((12.14136042, -10.02004008), (7.32004008, -5.19871974))
            Line((7.32004008, -5.19871974), (7.32004008, 5.75863958))
            Line((7.32004008, 5.75863958), (12.14136042, 10.57995992))
            Line((12.14136042, 10.57995992), (17.47004008, 10.57995992))
            Line((17.47004008, 10.57995992), (17.47004008, 7.29631143))
            Line((17.47004008, 7.29631143), (15.22004008, 7.29631143))
            Line((15.22004008, 7.29631143), (15.22004008, 4.37995992))
            Line((15.22004008, 4.37995992), (18.72004008, 4.37995992))
            Line((18.72004008, 4.37995992), (18.72004008, 5.37995992))
            Line((18.72004008, 5.37995992), (19.72004008, 5.37995992))
        make_face()
        with BuildLine():
            Line((-17.27995992, -17.72004008), (-13.07995992, -17.72004008))
            ThreePointArc((-13.07995992, -17.72004008), (-12.372853139, -17.427146861), (-12.07995992, -16.72004008))
            Line((-12.07995992, -16.72004008), (-12.07995992, -12.52004008))
            ThreePointArc((-12.07995992, -12.52004008), (-12.372853139, -11.812933299), (-13.07995992, -11.52004008))
            Line((-13.07995992, -11.52004008), (-17.27995992, -11.52004008))
            ThreePointArc((-17.27995992, -11.52004008), (-17.987066701, -11.812933299), (-18.27995992, -12.52004008))
            Line((-18.27995992, -12.52004008), (-18.27995992, -16.72004008))
            ThreePointArc((-18.27995992, -16.72004008), (-17.987066701, -17.427146861), (-17.27995992, -17.72004008))
        make_face(mode=Mode.SUBTRACT)
        with BuildLine():
            Line((-13.07995992, 18.27995992), (-17.27995992, 18.27995992))
            ThreePointArc((-17.27995992, 18.27995992), (-17.987066701, 17.987066701), (-18.27995992, 17.27995992))
            Line((-18.27995992, 17.27995992), (-18.27995992, 13.07995992))
            ThreePointArc((-18.27995992, 13.07995992), (-17.987066701, 12.372853139), (-17.27995992, 12.07995992))
            Line((-17.27995992, 12.07995992), (-13.07995992, 12.07995992))
            ThreePointArc((-13.07995992, 12.07995992), (-12.372853139, 12.372853139), (-12.07995992, 13.07995992))
            Line((-12.07995992, 13.07995992), (-12.07995992, 17.27995992))
            ThreePointArc((-12.07995992, 17.27995992), (-12.372853139, 17.987066701), (-13.07995992, 18.27995992))
        make_face(mode=Mode.SUBTRACT)
        with BuildLine():
            Line((11.52004008, 17.27995992), (11.52004008, 13.07995992))
            ThreePointArc((11.52004008, 13.07995992), (11.812933299, 12.372853139), (12.52004008, 12.07995992))
            Line((12.52004008, 12.07995992), (16.72004008, 12.07995992))
            ThreePointArc((16.72004008, 12.07995992), (17.427146861, 12.372853139), (17.72004008, 13.07995992))
            Line((17.72004008, 13.07995992), (17.72004008, 17.27995992))
            ThreePointArc((17.72004008, 17.27995992), (17.427146861, 17.987066701), (16.72004008, 18.27995992))
            Line((16.72004008, 18.27995992), (12.52004008, 18.27995992))
            ThreePointArc((12.52004008, 18.27995992), (11.812933299, 17.987066701), (11.52004008, 17.27995992))
        make_face(mode=Mode.SUBTRACT)
        with BuildLine():
            Line((11.52004008, -12.52004008), (11.52004008, -16.72004008))
            ThreePointArc((11.52004008, -16.72004008), (11.812933299, -17.427146861), (12.52004008, -17.72004008))
            Line((12.52004008, -17.72004008), (16.72004008, -17.72004008))
            ThreePointArc((16.72004008, -17.72004008), (17.427146861, -17.427146861), (17.72004008, -16.72004008))
            Line((17.72004008, -16.72004008), (17.72004008, -12.52004008))
            ThreePointArc((17.72004008, -12.52004008), (17.427146861, -11.812933299), (16.72004008, -11.52004008))
            Line((16.72004008, -11.52004008), (12.52004008, -11.52004008))
            ThreePointArc((12.52004008, -11.52004008), (11.812933299, -11.812933299), (11.52004008, -12.52004008))
        make_face(mode=Mode.SUBTRACT)
        with BuildLine():
            Line((-4.31037879, 3.60327201), (-3.0115377, 2.30443092))
            ThreePointArc((-3.0115377, 2.30443092), (-3.67995992, 0.27995992), (-3.0115377, -1.74451108))
            Line((-3.0115377, -1.74451108), (-4.31037879, -3.04335217))
            Line((-4.31037879, -3.04335217), (-3.60327201, -3.75045895))
            Line((-3.60327201, -3.75045895), (-2.30443092, -2.45161786))
            ThreePointArc((-2.30443092, -2.45161786), (-0.27995992, -3.12004008), (1.74451108, -2.45161786))
            Line((1.74451108, -2.45161786), (3.04335217, -3.75045895))
            Line((3.04335217, -3.75045895), (3.75045895, -3.04335217))
            Line((3.75045895, -3.04335217), (2.45161786, -1.74451108))
            ThreePointArc((2.45161786, -1.74451108), (3.12004008, 0.27995992), (2.45161786, 2.30443092))
            Line((2.45161786, 2.30443092), (3.75045895, 3.60327201))
            Line((3.75045895, 3.60327201), (3.04335217, 4.31037879))
            Line((3.04335217, 4.31037879), (1.74451108, 3.0115377))
            ThreePointArc((1.74451108, 3.0115377), (-0.27995992, 3.67995992), (-2.30443092, 3.0115377))
            Line((-2.30443092, 3.0115377), (-3.60327201, 4.31037879))
            Line((-3.60327201, 4.31037879), (-4.31037879, 3.60327201))
        make_face(mode=Mode.SUBTRACT)
    extrude(amount=-EXTRUDE_2_DEPTH)


solid = part.part
